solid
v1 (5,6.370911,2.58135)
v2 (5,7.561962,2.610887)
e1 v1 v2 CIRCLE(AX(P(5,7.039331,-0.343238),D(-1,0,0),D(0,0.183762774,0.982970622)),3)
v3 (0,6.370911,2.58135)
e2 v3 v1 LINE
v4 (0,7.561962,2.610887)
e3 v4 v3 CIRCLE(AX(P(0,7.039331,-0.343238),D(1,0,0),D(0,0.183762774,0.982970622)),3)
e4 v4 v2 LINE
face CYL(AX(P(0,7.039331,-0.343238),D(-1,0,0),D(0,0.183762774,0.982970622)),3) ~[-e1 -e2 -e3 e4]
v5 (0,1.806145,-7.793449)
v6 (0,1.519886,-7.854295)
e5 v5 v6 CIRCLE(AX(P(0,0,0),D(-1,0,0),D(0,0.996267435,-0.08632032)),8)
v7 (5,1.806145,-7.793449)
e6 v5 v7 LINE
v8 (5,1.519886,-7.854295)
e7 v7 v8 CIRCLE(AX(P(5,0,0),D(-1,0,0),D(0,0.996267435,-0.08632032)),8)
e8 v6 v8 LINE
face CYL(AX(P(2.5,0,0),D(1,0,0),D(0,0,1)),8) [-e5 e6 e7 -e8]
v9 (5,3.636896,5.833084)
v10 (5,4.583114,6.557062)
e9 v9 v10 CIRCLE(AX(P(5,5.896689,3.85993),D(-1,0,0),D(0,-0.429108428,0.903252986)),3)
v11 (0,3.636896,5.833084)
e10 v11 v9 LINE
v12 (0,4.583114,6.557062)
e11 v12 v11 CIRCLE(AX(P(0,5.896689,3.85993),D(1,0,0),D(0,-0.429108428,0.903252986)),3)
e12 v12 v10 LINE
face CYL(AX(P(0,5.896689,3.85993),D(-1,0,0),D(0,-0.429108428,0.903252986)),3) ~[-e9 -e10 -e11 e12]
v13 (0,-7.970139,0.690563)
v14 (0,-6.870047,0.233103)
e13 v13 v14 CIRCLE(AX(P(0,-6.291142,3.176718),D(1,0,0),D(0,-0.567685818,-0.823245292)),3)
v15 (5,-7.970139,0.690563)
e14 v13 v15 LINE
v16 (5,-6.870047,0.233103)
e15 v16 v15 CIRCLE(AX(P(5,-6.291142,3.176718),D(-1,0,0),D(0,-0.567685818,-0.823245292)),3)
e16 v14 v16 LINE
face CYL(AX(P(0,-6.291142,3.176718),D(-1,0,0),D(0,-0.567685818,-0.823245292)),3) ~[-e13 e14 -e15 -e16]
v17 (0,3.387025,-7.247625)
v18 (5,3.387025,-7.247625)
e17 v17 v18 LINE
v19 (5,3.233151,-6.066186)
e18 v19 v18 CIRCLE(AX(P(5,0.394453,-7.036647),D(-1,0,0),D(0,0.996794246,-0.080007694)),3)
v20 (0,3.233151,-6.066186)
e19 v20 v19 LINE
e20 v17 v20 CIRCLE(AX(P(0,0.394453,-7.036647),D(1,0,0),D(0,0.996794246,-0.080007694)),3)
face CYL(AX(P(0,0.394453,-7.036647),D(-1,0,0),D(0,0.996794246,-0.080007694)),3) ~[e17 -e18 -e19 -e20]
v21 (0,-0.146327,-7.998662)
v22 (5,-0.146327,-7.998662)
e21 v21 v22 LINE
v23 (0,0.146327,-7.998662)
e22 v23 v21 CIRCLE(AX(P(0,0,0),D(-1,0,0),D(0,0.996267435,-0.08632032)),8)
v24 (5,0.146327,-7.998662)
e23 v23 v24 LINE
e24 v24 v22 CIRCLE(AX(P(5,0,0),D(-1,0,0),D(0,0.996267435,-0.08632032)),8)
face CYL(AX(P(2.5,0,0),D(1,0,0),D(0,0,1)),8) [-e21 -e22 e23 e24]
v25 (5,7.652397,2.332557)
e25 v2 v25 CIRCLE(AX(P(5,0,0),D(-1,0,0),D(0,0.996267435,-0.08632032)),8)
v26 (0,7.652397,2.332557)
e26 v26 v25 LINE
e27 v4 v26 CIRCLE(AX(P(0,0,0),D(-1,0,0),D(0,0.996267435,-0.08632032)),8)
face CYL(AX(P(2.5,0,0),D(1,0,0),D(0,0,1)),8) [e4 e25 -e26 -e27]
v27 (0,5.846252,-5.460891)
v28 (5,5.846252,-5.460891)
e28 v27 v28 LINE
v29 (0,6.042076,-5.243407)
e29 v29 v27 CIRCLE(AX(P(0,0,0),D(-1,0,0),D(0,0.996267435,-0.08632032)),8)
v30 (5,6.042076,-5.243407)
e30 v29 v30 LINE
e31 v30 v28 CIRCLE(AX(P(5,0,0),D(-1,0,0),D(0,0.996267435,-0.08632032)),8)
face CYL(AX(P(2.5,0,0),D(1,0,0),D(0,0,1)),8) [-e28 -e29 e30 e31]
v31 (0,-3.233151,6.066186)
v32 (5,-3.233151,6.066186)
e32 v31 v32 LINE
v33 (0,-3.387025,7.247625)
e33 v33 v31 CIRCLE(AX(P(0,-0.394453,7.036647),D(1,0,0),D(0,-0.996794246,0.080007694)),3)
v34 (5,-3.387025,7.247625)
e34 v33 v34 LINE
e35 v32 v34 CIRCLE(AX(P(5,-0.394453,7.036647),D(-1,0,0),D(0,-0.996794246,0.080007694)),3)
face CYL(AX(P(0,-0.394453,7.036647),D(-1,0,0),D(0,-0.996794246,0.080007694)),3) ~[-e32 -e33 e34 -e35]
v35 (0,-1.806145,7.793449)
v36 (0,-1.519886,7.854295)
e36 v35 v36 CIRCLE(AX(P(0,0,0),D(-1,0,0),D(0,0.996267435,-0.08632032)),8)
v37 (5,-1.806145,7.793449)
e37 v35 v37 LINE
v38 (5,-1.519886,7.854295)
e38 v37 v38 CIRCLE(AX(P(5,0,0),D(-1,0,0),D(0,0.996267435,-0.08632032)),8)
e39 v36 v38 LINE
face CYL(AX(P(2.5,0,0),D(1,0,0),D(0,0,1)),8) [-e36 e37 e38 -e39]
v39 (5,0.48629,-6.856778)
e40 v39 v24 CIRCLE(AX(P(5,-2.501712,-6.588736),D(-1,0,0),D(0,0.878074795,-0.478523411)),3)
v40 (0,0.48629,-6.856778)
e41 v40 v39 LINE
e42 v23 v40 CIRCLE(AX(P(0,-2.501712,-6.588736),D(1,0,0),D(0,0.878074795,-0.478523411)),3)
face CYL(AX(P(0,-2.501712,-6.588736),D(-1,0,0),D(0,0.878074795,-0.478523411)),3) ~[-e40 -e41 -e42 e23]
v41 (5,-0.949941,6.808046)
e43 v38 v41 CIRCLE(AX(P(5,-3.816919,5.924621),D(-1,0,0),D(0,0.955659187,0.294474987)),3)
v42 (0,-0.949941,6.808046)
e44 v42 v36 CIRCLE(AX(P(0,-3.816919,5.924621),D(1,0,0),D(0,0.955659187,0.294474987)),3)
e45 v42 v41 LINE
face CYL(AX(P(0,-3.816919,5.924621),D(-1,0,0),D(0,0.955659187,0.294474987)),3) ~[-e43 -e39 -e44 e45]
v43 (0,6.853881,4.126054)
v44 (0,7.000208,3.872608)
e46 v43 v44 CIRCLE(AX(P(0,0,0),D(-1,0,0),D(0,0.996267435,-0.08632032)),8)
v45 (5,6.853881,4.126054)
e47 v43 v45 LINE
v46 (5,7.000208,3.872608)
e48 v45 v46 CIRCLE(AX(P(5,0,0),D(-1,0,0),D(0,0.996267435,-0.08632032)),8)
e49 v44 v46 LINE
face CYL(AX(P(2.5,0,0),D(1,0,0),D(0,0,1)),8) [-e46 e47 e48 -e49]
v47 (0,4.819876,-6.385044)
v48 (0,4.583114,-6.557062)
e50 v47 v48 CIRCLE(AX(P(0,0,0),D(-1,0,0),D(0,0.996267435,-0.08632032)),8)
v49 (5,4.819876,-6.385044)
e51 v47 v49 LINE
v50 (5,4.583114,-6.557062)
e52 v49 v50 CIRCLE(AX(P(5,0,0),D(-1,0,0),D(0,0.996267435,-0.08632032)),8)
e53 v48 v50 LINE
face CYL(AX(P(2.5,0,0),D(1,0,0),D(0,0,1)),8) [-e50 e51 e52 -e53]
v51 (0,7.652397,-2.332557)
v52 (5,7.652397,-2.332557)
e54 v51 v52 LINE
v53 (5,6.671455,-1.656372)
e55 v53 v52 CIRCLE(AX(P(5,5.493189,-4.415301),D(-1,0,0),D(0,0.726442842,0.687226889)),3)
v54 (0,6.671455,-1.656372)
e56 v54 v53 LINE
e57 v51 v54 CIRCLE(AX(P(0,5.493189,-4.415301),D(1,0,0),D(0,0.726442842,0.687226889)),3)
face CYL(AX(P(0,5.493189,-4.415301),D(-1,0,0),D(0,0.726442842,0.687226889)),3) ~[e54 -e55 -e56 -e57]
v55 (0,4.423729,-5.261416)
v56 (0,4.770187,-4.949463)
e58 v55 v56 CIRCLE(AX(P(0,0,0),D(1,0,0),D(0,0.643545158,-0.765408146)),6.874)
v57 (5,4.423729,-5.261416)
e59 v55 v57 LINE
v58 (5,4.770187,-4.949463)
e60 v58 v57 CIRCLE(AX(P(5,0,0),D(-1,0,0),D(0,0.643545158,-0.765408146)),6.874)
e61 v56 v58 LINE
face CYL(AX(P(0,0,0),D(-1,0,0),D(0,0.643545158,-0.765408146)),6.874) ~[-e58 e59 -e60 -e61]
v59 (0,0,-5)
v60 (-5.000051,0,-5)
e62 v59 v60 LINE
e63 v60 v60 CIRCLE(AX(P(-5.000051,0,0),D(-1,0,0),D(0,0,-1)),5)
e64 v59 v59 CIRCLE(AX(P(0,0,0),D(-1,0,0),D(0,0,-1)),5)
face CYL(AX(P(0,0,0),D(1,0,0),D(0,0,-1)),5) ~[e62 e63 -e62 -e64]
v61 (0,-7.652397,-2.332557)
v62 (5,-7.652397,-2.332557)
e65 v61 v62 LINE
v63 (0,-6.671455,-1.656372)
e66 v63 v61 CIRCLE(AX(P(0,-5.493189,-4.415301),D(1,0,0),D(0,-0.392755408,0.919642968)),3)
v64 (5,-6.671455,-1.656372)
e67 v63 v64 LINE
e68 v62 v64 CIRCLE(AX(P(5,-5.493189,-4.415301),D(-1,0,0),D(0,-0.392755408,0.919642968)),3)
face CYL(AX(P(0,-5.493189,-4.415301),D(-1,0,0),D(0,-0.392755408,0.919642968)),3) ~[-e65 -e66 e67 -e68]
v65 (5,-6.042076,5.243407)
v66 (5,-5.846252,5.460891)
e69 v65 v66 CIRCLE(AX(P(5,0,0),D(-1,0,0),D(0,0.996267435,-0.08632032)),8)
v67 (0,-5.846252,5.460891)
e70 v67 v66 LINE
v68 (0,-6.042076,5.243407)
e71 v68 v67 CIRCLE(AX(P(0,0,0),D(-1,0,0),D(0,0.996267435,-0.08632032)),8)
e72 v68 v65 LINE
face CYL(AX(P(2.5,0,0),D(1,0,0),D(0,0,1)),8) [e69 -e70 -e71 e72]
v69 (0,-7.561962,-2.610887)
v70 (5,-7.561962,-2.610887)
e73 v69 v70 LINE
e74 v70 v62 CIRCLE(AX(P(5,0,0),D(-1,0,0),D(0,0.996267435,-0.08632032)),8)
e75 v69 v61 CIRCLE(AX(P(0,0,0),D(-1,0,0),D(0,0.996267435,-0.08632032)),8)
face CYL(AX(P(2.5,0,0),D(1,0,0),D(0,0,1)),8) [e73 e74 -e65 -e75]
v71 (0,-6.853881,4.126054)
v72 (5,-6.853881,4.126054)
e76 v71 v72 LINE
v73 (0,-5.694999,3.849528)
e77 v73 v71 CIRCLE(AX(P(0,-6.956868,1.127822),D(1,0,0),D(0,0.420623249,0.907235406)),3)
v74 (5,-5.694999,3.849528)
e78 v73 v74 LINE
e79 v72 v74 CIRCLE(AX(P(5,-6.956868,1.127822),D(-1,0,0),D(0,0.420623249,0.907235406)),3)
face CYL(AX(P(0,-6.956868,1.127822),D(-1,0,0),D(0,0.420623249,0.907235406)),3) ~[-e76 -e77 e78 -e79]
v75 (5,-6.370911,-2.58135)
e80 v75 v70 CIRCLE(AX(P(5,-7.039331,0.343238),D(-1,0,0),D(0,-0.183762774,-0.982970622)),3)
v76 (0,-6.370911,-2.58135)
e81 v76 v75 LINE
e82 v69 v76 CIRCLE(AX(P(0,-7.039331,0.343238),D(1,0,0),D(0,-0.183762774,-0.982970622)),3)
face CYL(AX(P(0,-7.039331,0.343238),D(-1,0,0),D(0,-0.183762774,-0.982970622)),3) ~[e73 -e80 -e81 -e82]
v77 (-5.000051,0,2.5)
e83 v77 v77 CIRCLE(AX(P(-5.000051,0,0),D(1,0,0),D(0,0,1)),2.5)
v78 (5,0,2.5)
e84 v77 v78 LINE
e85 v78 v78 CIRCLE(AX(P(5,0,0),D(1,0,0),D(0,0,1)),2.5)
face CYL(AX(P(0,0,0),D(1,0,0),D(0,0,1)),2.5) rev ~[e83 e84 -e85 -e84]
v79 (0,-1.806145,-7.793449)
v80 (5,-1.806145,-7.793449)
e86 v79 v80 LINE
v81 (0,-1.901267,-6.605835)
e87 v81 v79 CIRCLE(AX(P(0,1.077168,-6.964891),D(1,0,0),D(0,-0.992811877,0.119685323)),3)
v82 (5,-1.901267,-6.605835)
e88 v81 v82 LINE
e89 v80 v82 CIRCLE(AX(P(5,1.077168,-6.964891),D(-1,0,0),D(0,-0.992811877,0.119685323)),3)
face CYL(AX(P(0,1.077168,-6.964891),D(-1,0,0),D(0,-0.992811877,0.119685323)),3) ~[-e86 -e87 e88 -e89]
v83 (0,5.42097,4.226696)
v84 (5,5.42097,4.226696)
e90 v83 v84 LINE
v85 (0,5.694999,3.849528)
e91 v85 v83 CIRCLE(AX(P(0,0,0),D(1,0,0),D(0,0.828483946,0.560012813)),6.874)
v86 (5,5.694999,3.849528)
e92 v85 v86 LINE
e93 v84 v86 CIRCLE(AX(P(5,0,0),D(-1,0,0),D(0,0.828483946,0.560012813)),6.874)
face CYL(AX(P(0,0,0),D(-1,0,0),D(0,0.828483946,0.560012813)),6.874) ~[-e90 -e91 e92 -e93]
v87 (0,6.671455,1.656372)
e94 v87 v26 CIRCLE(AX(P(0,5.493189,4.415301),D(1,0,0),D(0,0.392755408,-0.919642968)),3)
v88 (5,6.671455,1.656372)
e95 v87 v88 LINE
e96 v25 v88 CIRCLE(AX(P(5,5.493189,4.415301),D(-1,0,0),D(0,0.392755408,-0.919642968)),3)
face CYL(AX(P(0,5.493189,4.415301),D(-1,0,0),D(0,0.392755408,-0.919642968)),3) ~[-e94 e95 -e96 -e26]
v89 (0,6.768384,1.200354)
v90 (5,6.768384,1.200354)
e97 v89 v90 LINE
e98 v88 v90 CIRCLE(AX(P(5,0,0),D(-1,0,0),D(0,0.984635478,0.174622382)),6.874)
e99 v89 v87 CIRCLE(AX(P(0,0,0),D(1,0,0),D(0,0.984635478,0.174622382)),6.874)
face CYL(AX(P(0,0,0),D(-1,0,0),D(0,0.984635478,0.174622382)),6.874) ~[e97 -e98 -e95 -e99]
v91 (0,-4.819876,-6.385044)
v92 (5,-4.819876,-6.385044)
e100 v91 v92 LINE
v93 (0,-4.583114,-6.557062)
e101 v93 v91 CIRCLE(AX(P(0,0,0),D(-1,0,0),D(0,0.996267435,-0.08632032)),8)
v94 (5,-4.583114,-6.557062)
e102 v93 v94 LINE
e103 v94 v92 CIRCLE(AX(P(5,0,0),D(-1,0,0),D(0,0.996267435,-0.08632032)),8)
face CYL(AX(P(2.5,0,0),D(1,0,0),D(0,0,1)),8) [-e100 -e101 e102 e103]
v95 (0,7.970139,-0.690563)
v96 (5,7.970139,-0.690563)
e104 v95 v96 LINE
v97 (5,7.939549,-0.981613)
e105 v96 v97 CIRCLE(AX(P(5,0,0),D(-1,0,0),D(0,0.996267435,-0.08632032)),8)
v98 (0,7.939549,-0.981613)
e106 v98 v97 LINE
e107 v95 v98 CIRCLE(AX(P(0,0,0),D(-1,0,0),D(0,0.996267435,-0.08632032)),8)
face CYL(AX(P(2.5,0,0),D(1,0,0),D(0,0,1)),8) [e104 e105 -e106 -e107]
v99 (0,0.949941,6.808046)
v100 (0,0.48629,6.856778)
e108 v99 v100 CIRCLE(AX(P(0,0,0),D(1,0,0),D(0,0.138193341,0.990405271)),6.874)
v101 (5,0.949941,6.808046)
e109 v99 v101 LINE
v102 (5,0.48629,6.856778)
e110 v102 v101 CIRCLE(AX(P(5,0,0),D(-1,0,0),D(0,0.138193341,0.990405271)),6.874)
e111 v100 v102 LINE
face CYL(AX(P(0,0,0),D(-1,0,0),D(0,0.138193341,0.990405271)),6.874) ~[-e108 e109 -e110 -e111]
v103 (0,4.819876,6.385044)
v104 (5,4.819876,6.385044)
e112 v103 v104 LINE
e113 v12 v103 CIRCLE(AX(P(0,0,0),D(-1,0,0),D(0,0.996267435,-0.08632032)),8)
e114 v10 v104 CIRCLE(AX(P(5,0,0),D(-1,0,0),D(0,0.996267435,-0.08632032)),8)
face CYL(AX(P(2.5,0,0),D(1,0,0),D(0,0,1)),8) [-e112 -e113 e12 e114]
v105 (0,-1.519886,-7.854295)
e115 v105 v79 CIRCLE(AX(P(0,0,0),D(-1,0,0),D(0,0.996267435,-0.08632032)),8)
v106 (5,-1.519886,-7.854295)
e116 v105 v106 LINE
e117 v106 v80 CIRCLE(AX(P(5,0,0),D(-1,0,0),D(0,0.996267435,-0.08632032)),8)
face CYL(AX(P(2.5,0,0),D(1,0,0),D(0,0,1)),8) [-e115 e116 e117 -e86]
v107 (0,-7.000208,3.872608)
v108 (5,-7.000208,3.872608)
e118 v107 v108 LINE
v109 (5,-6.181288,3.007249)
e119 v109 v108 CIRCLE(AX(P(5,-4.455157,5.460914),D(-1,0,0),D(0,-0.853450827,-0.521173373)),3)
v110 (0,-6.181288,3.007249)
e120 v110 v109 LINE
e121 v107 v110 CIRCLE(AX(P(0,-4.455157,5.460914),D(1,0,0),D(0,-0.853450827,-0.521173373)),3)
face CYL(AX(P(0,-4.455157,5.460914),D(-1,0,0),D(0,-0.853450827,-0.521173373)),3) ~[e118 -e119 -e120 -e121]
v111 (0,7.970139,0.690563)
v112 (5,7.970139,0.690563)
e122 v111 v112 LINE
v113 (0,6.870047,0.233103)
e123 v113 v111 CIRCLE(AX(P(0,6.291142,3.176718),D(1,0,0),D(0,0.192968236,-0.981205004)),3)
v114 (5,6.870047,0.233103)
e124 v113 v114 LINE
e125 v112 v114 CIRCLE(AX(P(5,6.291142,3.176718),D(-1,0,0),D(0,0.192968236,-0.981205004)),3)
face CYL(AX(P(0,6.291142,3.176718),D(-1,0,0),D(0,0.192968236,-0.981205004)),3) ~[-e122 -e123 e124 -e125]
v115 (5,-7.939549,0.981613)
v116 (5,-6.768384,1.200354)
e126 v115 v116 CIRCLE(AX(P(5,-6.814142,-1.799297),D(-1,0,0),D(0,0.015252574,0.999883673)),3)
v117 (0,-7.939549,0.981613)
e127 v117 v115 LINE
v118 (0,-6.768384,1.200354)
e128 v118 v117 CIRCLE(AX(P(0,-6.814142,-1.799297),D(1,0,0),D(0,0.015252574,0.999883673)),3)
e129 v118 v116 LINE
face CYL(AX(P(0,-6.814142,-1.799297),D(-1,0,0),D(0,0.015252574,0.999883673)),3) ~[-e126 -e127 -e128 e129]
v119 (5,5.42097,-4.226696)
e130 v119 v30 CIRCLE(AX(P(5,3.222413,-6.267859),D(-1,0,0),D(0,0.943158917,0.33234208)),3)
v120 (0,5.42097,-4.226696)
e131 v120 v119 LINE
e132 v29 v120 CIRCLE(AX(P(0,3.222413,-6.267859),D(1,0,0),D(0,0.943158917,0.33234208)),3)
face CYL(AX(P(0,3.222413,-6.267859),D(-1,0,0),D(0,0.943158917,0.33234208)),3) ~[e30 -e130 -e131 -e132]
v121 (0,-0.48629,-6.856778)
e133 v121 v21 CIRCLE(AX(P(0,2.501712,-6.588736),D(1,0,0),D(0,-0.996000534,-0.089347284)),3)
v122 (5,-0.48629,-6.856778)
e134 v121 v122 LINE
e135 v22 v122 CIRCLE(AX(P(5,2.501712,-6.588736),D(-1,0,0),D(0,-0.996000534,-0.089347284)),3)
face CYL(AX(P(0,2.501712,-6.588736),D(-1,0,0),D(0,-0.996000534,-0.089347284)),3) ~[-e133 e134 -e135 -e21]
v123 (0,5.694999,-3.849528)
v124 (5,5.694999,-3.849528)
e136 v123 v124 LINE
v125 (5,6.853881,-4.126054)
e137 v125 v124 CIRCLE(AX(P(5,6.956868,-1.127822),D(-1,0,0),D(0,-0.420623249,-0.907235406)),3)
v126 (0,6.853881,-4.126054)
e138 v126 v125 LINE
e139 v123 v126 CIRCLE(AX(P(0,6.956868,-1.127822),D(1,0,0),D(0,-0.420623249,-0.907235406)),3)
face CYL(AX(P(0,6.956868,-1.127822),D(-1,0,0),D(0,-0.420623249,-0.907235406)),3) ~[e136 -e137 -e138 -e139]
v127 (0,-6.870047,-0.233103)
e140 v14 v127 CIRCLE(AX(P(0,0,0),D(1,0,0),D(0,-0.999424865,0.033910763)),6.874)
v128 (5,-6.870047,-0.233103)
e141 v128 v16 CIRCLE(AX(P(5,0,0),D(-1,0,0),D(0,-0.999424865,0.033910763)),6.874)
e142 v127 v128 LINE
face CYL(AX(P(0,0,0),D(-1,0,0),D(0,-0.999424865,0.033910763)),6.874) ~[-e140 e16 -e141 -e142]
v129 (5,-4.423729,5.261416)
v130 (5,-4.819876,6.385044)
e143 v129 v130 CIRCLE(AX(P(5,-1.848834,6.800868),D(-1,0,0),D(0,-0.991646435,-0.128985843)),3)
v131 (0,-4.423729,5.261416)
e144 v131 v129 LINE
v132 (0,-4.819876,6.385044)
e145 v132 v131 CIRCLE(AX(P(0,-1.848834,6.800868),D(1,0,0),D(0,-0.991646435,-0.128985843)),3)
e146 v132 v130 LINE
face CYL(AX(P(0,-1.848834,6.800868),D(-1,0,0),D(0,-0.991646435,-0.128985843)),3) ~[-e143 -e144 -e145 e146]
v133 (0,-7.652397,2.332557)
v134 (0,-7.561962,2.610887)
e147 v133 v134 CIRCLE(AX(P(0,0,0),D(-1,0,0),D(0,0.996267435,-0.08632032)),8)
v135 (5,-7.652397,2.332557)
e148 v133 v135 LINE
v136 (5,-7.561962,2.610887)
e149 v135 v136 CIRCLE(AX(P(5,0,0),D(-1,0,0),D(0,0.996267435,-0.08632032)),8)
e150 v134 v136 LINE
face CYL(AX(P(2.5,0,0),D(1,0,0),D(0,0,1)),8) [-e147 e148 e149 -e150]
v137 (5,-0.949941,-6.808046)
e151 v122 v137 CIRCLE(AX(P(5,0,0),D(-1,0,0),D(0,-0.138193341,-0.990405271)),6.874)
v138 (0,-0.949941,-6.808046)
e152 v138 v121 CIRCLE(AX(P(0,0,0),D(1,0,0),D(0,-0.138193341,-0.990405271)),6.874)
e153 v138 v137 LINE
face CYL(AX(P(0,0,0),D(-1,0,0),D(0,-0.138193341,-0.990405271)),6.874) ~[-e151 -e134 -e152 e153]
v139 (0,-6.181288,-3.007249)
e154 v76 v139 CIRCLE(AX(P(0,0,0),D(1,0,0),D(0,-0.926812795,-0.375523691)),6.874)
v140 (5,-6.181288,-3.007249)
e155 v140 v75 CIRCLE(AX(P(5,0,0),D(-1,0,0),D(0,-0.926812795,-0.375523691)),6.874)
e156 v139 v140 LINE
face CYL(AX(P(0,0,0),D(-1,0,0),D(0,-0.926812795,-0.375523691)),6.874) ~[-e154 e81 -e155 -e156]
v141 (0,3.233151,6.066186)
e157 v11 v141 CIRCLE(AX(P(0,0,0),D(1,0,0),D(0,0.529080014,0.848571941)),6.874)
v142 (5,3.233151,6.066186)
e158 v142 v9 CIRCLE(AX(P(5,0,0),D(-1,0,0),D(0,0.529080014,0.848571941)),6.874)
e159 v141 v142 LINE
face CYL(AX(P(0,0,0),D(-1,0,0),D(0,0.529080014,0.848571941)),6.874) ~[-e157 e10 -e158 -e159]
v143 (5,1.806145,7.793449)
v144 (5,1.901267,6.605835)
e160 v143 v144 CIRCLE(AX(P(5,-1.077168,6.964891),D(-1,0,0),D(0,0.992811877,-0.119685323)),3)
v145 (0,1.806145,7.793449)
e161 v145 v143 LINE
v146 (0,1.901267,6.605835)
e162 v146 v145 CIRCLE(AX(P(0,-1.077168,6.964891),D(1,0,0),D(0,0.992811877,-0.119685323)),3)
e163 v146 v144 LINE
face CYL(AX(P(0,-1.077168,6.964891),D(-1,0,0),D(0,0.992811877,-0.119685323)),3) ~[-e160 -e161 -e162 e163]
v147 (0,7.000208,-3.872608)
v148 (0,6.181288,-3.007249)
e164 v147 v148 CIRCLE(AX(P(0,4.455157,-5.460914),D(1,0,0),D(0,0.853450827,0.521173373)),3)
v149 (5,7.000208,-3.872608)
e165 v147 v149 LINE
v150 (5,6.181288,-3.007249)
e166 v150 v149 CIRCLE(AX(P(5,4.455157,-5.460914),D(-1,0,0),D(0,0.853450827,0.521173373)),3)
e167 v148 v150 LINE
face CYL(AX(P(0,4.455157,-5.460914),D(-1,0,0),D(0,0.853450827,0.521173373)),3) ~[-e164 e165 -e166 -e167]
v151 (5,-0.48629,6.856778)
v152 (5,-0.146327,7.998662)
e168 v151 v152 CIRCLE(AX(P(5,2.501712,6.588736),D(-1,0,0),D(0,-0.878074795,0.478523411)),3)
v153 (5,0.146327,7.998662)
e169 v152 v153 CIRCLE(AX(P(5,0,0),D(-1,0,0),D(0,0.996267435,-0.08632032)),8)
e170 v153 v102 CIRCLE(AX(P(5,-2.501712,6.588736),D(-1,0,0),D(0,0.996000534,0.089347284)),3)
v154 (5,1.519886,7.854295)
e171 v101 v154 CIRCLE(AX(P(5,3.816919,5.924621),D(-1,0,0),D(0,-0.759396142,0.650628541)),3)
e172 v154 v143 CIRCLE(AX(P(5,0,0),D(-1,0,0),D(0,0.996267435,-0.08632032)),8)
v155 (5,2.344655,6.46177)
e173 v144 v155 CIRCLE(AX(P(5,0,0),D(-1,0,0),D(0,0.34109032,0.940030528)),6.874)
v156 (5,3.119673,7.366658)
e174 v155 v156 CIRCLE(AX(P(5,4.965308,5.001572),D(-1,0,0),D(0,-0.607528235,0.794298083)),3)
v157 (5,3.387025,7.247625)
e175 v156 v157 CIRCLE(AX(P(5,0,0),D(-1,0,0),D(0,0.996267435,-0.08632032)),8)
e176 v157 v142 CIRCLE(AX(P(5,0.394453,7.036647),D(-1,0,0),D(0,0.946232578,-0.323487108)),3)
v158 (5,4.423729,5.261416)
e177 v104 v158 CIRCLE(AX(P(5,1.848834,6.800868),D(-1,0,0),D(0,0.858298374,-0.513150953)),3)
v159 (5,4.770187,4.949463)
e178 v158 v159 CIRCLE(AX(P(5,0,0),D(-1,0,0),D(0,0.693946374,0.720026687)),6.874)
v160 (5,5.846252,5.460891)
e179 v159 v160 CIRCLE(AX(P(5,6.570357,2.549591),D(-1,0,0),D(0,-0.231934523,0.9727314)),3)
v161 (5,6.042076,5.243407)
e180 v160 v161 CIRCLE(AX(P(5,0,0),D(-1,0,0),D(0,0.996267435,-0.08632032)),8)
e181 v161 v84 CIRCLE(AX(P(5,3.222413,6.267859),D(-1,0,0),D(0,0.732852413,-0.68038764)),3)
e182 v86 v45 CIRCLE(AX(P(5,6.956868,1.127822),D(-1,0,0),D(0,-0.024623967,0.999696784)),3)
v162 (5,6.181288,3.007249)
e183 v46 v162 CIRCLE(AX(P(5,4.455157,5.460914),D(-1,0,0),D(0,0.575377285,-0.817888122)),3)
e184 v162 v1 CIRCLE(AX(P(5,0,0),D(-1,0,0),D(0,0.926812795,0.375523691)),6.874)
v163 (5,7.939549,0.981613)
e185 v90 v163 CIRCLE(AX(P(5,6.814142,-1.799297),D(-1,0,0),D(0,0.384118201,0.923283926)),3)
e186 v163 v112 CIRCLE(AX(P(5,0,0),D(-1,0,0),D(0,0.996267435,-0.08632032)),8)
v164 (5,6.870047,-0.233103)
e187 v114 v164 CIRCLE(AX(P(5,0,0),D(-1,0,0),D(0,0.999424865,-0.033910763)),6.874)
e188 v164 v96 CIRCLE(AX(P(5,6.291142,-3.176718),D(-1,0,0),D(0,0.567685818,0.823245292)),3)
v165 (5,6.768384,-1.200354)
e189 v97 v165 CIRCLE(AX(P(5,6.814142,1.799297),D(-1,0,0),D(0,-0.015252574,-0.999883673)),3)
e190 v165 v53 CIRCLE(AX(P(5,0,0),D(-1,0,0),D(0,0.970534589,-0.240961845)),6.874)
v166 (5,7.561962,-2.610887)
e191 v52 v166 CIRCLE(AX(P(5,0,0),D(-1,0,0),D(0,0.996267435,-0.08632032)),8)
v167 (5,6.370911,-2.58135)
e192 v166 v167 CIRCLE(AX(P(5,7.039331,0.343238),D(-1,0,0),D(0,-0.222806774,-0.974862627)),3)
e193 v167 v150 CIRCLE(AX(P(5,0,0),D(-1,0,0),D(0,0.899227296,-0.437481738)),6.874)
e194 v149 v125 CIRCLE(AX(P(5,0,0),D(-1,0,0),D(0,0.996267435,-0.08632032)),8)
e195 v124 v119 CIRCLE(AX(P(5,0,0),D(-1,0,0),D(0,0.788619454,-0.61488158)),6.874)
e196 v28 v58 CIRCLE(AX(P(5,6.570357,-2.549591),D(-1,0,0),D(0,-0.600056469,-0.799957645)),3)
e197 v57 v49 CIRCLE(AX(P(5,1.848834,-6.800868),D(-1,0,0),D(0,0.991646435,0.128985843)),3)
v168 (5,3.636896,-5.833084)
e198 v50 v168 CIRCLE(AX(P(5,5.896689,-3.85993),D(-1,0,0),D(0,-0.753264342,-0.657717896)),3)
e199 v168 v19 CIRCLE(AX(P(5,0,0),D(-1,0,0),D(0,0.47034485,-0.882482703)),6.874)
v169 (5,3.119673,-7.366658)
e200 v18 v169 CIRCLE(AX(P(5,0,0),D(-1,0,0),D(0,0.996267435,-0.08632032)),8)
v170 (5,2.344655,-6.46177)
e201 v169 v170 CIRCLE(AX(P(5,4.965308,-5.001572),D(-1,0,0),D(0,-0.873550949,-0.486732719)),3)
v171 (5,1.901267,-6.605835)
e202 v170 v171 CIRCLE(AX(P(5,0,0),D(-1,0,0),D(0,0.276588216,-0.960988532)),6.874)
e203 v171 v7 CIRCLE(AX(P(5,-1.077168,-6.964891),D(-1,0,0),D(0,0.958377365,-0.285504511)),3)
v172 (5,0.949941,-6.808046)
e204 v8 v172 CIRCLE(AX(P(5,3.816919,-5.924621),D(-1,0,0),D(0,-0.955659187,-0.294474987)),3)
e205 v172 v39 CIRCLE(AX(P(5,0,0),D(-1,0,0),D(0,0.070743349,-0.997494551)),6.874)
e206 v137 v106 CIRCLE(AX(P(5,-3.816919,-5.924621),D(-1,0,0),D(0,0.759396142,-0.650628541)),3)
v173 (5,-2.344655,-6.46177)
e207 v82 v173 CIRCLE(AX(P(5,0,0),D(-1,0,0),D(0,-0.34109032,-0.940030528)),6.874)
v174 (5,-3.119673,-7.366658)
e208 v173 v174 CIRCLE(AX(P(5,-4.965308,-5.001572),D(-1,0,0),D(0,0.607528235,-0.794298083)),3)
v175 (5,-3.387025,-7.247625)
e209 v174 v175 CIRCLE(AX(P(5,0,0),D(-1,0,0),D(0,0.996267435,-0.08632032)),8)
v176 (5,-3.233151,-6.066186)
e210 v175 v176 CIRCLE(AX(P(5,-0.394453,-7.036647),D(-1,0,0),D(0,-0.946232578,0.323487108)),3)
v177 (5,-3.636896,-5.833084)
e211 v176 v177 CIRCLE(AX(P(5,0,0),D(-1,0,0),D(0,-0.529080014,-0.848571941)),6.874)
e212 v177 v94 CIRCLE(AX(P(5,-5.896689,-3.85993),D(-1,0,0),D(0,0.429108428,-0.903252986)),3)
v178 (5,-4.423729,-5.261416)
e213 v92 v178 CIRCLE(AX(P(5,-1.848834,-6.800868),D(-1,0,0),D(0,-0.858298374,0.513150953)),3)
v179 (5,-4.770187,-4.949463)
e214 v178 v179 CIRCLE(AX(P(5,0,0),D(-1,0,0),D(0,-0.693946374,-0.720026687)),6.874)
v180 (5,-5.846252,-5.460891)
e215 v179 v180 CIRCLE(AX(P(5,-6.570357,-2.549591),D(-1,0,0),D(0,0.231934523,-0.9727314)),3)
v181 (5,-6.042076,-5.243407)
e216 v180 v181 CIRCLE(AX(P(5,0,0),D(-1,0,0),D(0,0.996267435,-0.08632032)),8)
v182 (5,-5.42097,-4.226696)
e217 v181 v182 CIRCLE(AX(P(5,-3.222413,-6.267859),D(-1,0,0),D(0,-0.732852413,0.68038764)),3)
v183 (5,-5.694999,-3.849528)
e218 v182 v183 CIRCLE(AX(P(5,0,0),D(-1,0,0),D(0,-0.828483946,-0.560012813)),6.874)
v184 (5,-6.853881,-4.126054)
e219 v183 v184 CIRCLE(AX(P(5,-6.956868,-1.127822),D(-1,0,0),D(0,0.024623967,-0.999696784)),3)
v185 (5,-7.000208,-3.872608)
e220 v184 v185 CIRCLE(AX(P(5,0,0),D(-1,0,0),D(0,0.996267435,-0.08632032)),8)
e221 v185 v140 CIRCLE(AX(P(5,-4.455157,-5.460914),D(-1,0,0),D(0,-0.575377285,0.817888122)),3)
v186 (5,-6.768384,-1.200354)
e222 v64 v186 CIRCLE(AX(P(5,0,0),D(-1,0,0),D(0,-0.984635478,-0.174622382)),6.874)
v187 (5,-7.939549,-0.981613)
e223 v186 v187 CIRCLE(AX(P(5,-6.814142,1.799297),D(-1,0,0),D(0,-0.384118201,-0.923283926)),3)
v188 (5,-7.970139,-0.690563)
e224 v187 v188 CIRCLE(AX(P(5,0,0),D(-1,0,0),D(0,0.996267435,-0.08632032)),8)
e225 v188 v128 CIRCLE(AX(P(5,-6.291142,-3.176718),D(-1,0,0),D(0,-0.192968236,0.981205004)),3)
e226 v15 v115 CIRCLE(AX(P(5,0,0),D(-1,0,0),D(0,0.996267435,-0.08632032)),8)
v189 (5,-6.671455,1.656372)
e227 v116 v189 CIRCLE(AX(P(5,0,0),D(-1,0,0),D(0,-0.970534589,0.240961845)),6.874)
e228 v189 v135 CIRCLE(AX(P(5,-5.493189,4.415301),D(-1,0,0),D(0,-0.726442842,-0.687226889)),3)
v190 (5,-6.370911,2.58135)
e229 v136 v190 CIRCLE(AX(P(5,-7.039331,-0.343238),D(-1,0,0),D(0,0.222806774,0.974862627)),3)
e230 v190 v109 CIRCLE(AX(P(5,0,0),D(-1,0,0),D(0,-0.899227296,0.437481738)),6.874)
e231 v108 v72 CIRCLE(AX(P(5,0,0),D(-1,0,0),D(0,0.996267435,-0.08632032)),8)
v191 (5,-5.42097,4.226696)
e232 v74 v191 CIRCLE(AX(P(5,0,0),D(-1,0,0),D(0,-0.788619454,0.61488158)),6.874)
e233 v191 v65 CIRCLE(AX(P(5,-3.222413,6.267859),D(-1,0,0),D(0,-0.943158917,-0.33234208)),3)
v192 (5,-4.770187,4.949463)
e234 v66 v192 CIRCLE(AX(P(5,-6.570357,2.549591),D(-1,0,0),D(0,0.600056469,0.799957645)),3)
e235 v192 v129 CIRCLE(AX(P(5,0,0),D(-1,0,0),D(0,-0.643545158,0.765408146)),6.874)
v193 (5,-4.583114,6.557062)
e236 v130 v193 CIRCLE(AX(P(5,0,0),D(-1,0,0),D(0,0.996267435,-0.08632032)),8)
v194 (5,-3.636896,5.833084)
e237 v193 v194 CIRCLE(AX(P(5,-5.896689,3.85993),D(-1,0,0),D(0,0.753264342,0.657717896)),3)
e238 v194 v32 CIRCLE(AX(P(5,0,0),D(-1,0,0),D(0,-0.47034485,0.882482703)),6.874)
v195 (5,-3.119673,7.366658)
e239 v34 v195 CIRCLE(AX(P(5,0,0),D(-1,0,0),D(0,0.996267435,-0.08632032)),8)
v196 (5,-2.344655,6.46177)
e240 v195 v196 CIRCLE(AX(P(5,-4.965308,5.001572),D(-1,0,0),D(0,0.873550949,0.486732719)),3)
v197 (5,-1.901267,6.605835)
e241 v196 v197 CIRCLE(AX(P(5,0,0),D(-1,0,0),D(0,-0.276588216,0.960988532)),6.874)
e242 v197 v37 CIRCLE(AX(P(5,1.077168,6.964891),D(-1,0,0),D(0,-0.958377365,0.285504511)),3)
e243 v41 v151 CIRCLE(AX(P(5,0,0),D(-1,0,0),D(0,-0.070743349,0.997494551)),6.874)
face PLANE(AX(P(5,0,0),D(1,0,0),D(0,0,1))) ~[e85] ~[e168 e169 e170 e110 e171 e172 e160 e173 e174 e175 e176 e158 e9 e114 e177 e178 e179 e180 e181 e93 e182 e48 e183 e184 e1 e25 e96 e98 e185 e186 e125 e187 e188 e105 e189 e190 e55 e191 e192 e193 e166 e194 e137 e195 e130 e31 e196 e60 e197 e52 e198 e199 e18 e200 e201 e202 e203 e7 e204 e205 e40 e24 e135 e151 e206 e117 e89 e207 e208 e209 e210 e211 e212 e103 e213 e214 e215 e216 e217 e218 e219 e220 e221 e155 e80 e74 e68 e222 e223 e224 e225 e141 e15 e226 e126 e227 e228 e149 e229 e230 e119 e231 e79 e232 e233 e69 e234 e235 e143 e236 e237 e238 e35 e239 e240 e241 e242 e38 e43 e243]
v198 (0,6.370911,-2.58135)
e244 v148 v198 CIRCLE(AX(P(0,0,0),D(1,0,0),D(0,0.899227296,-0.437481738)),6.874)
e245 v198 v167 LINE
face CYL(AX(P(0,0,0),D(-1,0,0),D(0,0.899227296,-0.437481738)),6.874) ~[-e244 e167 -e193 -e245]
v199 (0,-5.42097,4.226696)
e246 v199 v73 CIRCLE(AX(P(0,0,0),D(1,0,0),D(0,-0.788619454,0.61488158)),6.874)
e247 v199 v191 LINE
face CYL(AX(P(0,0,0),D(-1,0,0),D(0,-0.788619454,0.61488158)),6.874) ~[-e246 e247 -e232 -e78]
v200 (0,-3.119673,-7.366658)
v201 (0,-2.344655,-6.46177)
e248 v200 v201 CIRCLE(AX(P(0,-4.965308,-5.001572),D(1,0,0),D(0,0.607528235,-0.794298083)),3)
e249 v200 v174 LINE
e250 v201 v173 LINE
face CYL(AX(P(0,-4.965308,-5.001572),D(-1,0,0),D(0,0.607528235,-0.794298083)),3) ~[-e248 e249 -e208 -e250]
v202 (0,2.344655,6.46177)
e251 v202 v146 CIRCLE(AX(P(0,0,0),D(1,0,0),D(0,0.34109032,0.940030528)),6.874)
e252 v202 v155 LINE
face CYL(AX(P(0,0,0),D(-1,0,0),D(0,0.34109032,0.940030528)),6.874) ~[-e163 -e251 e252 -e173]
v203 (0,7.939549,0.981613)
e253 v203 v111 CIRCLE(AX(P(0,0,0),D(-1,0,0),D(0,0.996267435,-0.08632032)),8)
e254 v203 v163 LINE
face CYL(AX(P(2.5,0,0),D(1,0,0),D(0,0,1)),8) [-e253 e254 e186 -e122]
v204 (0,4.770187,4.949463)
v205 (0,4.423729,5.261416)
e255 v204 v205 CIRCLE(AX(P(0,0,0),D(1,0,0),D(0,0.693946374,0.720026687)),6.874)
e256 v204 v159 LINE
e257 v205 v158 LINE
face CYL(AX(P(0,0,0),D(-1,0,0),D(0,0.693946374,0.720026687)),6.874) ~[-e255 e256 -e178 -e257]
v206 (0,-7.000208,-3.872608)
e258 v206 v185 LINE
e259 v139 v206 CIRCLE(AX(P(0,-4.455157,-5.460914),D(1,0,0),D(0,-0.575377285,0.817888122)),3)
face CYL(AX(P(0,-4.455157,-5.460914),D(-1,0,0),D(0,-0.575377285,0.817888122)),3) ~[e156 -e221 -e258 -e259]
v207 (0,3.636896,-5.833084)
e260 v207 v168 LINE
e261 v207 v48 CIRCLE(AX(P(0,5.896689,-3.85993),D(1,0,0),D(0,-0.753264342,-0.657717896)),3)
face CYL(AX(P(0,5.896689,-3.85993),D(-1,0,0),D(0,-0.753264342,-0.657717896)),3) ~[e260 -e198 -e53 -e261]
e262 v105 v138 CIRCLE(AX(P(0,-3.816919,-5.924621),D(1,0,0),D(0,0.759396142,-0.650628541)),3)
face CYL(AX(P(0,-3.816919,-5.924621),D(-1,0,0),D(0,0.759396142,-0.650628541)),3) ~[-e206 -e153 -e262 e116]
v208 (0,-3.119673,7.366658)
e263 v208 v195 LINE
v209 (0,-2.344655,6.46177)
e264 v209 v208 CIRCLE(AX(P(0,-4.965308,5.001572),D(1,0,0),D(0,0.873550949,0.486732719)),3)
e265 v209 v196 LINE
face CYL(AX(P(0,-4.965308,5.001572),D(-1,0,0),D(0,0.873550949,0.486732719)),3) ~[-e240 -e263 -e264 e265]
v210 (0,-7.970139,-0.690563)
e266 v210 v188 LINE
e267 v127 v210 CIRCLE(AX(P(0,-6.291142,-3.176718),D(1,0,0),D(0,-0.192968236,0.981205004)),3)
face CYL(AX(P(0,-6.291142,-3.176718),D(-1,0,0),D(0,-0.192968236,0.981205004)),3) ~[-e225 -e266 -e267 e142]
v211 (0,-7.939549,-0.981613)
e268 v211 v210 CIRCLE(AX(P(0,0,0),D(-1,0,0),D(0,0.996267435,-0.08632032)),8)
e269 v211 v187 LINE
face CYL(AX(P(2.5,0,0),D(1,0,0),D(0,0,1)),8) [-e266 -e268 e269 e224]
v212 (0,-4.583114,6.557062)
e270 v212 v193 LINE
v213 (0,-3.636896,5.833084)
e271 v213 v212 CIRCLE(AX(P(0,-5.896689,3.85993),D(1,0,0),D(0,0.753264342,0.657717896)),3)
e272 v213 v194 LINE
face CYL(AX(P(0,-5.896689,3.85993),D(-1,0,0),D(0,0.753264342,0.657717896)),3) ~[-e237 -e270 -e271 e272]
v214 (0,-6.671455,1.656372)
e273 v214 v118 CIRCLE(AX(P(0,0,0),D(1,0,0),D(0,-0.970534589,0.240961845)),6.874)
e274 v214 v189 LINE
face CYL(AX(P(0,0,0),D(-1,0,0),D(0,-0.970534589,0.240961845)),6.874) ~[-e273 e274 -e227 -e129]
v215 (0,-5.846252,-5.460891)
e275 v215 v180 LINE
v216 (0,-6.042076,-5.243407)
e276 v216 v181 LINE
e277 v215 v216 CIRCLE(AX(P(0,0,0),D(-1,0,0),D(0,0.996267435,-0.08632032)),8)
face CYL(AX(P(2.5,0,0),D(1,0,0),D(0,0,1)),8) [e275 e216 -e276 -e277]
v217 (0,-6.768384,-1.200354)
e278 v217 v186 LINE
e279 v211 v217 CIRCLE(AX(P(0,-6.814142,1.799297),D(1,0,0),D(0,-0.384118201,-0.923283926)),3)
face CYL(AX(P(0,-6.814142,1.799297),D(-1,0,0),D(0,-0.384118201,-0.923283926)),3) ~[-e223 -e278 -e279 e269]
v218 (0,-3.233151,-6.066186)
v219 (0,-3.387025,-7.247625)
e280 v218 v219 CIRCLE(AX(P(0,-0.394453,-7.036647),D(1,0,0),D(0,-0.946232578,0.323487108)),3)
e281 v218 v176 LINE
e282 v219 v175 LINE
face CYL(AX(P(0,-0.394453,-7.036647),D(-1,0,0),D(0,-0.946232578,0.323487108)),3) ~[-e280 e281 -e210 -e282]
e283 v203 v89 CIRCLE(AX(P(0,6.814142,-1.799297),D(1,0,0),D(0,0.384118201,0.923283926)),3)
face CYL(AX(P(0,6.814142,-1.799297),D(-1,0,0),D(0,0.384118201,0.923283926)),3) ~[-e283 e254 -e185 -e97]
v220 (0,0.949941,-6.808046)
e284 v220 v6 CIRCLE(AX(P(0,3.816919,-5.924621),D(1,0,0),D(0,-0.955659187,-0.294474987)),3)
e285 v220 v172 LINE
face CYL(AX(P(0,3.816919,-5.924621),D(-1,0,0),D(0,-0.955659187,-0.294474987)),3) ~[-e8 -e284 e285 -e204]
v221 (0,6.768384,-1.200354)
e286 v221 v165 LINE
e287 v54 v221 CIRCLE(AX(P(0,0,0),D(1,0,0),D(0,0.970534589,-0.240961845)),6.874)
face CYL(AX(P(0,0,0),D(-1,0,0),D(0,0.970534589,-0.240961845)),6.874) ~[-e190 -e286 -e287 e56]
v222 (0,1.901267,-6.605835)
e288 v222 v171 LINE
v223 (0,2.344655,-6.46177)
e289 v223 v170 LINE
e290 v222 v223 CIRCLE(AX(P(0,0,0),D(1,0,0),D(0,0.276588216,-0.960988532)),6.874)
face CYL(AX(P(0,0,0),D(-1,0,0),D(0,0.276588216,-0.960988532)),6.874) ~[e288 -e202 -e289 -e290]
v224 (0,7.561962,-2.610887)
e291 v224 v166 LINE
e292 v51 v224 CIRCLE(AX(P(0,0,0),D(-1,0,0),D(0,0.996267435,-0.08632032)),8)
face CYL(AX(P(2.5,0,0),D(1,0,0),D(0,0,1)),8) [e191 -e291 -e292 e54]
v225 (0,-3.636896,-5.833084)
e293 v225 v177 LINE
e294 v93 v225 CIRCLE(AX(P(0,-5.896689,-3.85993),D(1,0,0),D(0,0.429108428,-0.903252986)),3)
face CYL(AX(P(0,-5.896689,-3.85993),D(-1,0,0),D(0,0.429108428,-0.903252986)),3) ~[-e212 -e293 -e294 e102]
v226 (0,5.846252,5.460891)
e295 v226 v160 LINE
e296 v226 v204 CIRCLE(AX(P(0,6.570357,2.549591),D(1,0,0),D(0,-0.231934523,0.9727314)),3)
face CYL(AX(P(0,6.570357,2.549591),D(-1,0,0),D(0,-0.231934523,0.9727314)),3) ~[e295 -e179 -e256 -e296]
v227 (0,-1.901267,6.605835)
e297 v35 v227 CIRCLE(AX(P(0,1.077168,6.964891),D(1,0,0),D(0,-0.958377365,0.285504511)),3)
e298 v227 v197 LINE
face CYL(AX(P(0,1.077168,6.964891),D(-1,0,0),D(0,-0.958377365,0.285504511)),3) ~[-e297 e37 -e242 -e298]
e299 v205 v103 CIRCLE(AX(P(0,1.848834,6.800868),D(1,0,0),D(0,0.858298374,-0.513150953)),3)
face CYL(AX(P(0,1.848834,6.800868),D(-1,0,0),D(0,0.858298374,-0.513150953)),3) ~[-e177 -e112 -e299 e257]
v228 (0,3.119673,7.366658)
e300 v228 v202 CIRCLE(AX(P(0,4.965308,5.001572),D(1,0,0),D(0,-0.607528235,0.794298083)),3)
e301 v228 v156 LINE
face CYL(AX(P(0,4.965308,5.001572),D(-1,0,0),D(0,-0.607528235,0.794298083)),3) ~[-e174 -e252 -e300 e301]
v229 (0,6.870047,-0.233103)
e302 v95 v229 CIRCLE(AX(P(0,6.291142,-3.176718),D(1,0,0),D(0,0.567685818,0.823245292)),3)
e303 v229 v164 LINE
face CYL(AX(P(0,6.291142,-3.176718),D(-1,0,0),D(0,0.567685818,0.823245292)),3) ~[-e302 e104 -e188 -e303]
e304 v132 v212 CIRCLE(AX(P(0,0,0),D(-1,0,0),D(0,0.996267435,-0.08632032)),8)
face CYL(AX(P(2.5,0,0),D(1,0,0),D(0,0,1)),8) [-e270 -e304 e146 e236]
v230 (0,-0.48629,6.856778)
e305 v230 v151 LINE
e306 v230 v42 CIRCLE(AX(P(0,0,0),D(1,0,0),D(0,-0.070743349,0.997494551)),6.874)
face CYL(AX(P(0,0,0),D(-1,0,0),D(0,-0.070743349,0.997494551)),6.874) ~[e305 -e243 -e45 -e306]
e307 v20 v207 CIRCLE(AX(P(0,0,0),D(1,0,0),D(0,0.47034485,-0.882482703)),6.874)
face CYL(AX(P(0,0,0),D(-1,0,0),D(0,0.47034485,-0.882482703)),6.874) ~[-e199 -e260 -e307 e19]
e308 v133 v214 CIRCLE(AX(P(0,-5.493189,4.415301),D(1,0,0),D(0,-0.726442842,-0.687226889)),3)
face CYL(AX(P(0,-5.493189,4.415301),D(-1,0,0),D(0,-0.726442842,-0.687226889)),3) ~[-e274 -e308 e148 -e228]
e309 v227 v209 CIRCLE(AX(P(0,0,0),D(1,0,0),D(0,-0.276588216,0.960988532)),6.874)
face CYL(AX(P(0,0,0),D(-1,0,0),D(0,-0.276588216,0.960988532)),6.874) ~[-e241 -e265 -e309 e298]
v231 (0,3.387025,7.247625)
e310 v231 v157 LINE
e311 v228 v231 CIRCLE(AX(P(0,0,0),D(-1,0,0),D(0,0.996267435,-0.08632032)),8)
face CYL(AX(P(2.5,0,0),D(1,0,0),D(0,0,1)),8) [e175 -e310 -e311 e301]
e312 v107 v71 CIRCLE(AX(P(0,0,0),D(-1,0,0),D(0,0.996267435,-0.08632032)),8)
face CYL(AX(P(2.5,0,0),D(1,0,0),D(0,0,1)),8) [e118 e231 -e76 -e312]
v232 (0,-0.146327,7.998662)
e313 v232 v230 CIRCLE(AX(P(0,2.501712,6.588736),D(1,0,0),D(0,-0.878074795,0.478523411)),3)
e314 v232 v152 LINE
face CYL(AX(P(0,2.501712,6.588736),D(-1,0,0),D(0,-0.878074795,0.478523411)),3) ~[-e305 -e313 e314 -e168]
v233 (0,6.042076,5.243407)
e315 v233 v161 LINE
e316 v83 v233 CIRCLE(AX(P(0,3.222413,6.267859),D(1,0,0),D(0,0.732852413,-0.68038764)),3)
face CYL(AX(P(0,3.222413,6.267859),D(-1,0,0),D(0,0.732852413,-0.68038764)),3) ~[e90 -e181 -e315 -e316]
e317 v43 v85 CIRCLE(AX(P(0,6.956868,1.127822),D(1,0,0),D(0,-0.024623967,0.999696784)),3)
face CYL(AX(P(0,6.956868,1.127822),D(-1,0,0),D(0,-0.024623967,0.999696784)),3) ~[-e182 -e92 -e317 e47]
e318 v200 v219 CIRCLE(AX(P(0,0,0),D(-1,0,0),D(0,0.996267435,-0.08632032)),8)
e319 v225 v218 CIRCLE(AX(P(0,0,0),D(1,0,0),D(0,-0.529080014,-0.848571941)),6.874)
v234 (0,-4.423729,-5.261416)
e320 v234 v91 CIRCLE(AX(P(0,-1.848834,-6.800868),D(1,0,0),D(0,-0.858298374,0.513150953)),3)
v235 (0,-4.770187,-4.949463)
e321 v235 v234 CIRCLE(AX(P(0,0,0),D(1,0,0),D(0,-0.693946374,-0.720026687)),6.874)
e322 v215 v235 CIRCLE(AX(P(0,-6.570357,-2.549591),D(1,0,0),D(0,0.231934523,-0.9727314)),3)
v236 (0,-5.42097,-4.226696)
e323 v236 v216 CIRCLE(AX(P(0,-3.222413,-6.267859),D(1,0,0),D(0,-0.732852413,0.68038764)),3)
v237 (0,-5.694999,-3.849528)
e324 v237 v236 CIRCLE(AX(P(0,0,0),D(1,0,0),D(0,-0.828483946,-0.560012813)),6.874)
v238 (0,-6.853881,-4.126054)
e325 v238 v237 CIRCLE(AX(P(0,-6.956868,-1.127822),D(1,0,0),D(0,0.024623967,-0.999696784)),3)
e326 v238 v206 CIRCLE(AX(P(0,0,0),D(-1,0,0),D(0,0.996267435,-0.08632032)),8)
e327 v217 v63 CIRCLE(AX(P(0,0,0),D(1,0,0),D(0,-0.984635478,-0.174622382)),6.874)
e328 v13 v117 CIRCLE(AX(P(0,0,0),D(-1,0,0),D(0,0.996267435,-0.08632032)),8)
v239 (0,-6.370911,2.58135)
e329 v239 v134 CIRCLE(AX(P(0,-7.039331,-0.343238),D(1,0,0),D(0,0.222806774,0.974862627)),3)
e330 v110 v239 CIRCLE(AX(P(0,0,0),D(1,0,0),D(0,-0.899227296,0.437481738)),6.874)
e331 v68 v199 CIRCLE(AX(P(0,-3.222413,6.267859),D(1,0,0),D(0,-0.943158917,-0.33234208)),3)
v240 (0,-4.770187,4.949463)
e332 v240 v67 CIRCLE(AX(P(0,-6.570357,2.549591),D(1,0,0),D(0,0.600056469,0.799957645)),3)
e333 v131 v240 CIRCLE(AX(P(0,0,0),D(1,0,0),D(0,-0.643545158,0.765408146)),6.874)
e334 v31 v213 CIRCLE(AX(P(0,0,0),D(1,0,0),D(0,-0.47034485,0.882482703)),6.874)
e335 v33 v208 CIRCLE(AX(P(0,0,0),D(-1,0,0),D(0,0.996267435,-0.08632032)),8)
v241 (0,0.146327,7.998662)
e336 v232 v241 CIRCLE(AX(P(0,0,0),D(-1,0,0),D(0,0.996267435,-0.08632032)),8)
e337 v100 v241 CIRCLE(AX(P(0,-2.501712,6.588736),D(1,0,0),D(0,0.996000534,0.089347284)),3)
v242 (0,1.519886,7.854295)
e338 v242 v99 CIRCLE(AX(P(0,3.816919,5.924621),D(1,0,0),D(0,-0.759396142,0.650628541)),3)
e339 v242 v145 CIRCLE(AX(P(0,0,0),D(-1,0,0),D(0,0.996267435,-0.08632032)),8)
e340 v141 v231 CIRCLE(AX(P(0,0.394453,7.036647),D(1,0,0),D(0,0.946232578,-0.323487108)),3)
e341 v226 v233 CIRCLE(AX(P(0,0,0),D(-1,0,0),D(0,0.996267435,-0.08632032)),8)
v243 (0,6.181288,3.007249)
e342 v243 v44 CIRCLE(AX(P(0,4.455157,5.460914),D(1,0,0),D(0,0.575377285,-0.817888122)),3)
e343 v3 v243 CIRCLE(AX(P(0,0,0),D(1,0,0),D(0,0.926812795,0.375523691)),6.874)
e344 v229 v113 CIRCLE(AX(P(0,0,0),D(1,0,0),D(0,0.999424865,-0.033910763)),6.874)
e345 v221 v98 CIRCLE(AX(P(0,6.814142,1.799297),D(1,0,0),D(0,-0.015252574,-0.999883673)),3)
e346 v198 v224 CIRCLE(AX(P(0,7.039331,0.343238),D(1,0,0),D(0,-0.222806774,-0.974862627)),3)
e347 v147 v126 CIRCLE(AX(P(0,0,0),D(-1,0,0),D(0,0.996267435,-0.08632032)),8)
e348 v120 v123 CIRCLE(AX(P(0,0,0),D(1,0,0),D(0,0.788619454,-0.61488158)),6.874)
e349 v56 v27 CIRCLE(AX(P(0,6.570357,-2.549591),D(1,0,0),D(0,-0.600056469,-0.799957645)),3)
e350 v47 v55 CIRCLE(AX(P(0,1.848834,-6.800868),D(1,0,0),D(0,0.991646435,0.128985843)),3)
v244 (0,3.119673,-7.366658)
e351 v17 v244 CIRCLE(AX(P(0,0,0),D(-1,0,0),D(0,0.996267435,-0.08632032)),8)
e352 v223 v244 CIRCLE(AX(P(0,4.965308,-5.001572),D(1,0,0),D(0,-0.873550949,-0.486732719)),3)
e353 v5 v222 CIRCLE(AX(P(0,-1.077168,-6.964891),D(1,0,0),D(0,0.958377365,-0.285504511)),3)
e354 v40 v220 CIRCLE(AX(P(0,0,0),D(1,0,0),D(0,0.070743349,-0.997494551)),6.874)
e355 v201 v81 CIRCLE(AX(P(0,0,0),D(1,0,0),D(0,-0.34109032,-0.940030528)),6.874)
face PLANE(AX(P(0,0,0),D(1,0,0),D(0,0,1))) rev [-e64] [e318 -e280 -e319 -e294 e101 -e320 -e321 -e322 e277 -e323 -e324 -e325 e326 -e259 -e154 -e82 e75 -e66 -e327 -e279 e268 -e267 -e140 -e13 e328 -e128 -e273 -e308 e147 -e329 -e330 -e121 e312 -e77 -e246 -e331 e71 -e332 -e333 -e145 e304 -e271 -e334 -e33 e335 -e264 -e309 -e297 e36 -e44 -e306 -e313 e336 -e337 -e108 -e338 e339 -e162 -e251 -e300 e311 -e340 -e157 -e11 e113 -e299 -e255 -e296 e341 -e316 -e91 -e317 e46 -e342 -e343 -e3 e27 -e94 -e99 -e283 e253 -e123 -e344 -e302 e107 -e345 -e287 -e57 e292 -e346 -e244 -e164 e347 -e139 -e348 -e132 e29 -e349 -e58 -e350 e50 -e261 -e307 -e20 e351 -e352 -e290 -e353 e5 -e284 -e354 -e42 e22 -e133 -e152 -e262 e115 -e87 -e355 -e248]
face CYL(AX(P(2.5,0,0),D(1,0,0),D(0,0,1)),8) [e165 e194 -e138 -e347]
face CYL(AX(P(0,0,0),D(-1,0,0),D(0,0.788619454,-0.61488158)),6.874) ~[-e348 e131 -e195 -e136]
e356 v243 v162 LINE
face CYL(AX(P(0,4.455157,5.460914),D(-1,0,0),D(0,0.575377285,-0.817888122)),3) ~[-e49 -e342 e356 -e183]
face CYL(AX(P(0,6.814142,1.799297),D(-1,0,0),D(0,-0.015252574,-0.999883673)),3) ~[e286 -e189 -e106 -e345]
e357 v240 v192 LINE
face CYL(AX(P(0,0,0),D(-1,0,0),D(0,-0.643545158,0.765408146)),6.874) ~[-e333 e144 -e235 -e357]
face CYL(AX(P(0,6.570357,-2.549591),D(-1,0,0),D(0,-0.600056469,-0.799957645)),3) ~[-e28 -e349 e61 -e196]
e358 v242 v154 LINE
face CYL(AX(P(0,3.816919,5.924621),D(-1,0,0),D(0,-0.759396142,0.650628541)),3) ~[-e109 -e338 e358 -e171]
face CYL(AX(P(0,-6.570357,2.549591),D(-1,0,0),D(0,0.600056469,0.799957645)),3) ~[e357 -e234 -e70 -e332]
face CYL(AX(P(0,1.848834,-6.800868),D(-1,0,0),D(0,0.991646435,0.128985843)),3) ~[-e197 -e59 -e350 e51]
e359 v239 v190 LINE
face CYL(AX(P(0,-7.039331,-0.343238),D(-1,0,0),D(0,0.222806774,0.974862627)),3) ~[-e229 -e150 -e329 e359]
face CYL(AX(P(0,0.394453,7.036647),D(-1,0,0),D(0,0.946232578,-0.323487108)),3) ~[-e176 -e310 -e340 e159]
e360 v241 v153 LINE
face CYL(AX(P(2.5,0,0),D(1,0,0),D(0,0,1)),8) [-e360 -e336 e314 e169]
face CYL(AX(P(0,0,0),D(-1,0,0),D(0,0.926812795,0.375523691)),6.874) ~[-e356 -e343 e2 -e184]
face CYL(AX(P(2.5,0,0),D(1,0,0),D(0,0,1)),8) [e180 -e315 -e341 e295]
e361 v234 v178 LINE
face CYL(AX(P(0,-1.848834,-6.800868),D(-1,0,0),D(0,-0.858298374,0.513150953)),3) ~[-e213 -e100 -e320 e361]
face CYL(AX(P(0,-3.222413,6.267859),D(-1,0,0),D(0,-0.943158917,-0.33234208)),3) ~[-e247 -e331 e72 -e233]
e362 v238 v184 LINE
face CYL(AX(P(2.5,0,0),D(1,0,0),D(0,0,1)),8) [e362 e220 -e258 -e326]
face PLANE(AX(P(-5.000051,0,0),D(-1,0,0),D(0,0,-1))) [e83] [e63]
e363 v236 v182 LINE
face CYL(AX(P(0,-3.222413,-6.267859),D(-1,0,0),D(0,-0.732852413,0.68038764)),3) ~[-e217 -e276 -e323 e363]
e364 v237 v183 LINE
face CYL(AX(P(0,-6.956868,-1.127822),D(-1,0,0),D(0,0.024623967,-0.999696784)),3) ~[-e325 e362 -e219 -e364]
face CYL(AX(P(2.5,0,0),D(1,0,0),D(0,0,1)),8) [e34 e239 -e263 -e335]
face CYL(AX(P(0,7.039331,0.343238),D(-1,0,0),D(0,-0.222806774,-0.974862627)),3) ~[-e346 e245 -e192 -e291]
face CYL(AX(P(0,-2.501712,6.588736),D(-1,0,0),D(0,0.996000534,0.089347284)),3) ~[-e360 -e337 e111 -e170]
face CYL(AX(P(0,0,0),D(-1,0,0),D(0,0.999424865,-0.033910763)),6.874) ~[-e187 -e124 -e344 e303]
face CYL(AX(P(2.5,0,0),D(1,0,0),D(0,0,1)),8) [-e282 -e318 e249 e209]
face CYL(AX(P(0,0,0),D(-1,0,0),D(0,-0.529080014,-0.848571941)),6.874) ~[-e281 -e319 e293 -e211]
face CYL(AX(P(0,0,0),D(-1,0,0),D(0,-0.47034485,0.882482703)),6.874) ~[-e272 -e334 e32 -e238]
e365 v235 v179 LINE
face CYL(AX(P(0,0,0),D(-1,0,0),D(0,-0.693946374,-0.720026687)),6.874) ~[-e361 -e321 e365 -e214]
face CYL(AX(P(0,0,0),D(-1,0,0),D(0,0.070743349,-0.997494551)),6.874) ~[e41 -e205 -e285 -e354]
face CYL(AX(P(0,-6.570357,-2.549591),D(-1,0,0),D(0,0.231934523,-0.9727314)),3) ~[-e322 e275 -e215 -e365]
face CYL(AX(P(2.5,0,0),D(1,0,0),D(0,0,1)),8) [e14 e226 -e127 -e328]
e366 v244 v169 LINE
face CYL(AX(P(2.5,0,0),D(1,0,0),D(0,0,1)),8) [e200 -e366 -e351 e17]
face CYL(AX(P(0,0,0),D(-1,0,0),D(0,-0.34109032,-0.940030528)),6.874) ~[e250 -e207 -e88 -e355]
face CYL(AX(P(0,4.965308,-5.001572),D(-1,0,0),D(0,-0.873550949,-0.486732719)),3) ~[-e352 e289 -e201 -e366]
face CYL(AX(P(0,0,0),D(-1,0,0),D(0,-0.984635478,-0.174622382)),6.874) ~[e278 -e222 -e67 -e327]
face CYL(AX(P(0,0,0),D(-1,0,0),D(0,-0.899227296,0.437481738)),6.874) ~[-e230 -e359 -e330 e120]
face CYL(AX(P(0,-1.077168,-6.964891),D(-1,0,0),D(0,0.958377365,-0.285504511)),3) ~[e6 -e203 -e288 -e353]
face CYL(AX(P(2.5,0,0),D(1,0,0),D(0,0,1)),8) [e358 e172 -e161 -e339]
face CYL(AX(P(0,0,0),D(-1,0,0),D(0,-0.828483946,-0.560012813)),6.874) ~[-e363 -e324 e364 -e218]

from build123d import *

# Parameters (mm, degrees)
BASPROSKE_W      = 5
BASPROSKE_H      = 8
TOOTHCUT_DEPTH   = 13.369316877
TEETHCUTS_COUNT  = 30
TEETHCUTS_ANGLE  = 348
HUBNEAONESKE_R   = 5
HUBNEARONE_DEPTH = 5.0000508
BORSKE_R         = 2.5
BORE_DEPTH       = 10.0000508


with BuildPart() as part:
    # BasProSke → Base-Revolve (revolve)
    with BuildSketch(Plane(origin=(0, 0, 0), x_dir=(1, 0, 0), z_dir=(0, 1, 0)), mode=Mode.PRIVATE) as base_revolve_sk:
        with Locations((2.5, 4)):
            Rectangle(BASPROSKE_W, BASPROSKE_H)
    revolve(base_revolve_sk.sketch.rotate(Axis((-10, 0, 0), (1, 0, 0)), 180), axis=Axis((-10, 0, 0), (1, 0, 0)))

    # TooCutSke → ToothCut (cut, through all)
    with BuildSketch(Plane(origin=(0, 0, 0), x_dir=(0, 0, -1), z_dir=(1, 0, 0))):
        with BuildLine():
            ThreePointArc((0.233102578, 6.87004652), (0, 6.874), (-0.233102578, 6.87004652))
            ThreePointArc((-0.233102578, 6.87004652), (-0.41229689, 7.456465027), (-0.706981715, 7.994199273))
            ThreePointArc((-0.706981715, 7.994199273), (0, 8.0254), (0.706981715, 7.994199273))
            ThreePointArc((0.706981715, 7.994199273), (0.41229689, 7.456465027), (0.233102578, 6.87004652))
        make_face()
    toothcut = extrude(amount=TOOTHCUT_DEPTH, mode=Mode.SUBTRACT)

    # TeethCuts: ToothCut ×30 about axis
    teethcuts_axis = Axis((-10, 0, 0), (1, 0, 0))
    for i in range(1, TEETHCUTS_COUNT):
        add(toothcut.rotate(teethcuts_axis, i * TEETHCUTS_ANGLE / (TEETHCUTS_COUNT - 1)), mode=Mode.SUBTRACT)

    # HubNeaOneSke → HubNearOne (add)
    with BuildSketch(Plane.ZY):
        with Locations(Location((0, 0, 0), (0, 0, 180))):
            Circle(HUBNEAONESKE_R)
    extrude(amount=HUBNEARONE_DEPTH)

    # BorSke → Bore (cut, symmetric)
    with BuildSketch(Plane(origin=(0, 0, 0), x_dir=(0, 0, -1), z_dir=(1, 0, 0))):
        with Locations(Location((0, 0, 0), (0, 0, 180))):
            Circle(BORSKE_R)
    extrude(amount=BORE_DEPTH, both=True, mode=Mode.SUBTRACT)


solid = part.part
